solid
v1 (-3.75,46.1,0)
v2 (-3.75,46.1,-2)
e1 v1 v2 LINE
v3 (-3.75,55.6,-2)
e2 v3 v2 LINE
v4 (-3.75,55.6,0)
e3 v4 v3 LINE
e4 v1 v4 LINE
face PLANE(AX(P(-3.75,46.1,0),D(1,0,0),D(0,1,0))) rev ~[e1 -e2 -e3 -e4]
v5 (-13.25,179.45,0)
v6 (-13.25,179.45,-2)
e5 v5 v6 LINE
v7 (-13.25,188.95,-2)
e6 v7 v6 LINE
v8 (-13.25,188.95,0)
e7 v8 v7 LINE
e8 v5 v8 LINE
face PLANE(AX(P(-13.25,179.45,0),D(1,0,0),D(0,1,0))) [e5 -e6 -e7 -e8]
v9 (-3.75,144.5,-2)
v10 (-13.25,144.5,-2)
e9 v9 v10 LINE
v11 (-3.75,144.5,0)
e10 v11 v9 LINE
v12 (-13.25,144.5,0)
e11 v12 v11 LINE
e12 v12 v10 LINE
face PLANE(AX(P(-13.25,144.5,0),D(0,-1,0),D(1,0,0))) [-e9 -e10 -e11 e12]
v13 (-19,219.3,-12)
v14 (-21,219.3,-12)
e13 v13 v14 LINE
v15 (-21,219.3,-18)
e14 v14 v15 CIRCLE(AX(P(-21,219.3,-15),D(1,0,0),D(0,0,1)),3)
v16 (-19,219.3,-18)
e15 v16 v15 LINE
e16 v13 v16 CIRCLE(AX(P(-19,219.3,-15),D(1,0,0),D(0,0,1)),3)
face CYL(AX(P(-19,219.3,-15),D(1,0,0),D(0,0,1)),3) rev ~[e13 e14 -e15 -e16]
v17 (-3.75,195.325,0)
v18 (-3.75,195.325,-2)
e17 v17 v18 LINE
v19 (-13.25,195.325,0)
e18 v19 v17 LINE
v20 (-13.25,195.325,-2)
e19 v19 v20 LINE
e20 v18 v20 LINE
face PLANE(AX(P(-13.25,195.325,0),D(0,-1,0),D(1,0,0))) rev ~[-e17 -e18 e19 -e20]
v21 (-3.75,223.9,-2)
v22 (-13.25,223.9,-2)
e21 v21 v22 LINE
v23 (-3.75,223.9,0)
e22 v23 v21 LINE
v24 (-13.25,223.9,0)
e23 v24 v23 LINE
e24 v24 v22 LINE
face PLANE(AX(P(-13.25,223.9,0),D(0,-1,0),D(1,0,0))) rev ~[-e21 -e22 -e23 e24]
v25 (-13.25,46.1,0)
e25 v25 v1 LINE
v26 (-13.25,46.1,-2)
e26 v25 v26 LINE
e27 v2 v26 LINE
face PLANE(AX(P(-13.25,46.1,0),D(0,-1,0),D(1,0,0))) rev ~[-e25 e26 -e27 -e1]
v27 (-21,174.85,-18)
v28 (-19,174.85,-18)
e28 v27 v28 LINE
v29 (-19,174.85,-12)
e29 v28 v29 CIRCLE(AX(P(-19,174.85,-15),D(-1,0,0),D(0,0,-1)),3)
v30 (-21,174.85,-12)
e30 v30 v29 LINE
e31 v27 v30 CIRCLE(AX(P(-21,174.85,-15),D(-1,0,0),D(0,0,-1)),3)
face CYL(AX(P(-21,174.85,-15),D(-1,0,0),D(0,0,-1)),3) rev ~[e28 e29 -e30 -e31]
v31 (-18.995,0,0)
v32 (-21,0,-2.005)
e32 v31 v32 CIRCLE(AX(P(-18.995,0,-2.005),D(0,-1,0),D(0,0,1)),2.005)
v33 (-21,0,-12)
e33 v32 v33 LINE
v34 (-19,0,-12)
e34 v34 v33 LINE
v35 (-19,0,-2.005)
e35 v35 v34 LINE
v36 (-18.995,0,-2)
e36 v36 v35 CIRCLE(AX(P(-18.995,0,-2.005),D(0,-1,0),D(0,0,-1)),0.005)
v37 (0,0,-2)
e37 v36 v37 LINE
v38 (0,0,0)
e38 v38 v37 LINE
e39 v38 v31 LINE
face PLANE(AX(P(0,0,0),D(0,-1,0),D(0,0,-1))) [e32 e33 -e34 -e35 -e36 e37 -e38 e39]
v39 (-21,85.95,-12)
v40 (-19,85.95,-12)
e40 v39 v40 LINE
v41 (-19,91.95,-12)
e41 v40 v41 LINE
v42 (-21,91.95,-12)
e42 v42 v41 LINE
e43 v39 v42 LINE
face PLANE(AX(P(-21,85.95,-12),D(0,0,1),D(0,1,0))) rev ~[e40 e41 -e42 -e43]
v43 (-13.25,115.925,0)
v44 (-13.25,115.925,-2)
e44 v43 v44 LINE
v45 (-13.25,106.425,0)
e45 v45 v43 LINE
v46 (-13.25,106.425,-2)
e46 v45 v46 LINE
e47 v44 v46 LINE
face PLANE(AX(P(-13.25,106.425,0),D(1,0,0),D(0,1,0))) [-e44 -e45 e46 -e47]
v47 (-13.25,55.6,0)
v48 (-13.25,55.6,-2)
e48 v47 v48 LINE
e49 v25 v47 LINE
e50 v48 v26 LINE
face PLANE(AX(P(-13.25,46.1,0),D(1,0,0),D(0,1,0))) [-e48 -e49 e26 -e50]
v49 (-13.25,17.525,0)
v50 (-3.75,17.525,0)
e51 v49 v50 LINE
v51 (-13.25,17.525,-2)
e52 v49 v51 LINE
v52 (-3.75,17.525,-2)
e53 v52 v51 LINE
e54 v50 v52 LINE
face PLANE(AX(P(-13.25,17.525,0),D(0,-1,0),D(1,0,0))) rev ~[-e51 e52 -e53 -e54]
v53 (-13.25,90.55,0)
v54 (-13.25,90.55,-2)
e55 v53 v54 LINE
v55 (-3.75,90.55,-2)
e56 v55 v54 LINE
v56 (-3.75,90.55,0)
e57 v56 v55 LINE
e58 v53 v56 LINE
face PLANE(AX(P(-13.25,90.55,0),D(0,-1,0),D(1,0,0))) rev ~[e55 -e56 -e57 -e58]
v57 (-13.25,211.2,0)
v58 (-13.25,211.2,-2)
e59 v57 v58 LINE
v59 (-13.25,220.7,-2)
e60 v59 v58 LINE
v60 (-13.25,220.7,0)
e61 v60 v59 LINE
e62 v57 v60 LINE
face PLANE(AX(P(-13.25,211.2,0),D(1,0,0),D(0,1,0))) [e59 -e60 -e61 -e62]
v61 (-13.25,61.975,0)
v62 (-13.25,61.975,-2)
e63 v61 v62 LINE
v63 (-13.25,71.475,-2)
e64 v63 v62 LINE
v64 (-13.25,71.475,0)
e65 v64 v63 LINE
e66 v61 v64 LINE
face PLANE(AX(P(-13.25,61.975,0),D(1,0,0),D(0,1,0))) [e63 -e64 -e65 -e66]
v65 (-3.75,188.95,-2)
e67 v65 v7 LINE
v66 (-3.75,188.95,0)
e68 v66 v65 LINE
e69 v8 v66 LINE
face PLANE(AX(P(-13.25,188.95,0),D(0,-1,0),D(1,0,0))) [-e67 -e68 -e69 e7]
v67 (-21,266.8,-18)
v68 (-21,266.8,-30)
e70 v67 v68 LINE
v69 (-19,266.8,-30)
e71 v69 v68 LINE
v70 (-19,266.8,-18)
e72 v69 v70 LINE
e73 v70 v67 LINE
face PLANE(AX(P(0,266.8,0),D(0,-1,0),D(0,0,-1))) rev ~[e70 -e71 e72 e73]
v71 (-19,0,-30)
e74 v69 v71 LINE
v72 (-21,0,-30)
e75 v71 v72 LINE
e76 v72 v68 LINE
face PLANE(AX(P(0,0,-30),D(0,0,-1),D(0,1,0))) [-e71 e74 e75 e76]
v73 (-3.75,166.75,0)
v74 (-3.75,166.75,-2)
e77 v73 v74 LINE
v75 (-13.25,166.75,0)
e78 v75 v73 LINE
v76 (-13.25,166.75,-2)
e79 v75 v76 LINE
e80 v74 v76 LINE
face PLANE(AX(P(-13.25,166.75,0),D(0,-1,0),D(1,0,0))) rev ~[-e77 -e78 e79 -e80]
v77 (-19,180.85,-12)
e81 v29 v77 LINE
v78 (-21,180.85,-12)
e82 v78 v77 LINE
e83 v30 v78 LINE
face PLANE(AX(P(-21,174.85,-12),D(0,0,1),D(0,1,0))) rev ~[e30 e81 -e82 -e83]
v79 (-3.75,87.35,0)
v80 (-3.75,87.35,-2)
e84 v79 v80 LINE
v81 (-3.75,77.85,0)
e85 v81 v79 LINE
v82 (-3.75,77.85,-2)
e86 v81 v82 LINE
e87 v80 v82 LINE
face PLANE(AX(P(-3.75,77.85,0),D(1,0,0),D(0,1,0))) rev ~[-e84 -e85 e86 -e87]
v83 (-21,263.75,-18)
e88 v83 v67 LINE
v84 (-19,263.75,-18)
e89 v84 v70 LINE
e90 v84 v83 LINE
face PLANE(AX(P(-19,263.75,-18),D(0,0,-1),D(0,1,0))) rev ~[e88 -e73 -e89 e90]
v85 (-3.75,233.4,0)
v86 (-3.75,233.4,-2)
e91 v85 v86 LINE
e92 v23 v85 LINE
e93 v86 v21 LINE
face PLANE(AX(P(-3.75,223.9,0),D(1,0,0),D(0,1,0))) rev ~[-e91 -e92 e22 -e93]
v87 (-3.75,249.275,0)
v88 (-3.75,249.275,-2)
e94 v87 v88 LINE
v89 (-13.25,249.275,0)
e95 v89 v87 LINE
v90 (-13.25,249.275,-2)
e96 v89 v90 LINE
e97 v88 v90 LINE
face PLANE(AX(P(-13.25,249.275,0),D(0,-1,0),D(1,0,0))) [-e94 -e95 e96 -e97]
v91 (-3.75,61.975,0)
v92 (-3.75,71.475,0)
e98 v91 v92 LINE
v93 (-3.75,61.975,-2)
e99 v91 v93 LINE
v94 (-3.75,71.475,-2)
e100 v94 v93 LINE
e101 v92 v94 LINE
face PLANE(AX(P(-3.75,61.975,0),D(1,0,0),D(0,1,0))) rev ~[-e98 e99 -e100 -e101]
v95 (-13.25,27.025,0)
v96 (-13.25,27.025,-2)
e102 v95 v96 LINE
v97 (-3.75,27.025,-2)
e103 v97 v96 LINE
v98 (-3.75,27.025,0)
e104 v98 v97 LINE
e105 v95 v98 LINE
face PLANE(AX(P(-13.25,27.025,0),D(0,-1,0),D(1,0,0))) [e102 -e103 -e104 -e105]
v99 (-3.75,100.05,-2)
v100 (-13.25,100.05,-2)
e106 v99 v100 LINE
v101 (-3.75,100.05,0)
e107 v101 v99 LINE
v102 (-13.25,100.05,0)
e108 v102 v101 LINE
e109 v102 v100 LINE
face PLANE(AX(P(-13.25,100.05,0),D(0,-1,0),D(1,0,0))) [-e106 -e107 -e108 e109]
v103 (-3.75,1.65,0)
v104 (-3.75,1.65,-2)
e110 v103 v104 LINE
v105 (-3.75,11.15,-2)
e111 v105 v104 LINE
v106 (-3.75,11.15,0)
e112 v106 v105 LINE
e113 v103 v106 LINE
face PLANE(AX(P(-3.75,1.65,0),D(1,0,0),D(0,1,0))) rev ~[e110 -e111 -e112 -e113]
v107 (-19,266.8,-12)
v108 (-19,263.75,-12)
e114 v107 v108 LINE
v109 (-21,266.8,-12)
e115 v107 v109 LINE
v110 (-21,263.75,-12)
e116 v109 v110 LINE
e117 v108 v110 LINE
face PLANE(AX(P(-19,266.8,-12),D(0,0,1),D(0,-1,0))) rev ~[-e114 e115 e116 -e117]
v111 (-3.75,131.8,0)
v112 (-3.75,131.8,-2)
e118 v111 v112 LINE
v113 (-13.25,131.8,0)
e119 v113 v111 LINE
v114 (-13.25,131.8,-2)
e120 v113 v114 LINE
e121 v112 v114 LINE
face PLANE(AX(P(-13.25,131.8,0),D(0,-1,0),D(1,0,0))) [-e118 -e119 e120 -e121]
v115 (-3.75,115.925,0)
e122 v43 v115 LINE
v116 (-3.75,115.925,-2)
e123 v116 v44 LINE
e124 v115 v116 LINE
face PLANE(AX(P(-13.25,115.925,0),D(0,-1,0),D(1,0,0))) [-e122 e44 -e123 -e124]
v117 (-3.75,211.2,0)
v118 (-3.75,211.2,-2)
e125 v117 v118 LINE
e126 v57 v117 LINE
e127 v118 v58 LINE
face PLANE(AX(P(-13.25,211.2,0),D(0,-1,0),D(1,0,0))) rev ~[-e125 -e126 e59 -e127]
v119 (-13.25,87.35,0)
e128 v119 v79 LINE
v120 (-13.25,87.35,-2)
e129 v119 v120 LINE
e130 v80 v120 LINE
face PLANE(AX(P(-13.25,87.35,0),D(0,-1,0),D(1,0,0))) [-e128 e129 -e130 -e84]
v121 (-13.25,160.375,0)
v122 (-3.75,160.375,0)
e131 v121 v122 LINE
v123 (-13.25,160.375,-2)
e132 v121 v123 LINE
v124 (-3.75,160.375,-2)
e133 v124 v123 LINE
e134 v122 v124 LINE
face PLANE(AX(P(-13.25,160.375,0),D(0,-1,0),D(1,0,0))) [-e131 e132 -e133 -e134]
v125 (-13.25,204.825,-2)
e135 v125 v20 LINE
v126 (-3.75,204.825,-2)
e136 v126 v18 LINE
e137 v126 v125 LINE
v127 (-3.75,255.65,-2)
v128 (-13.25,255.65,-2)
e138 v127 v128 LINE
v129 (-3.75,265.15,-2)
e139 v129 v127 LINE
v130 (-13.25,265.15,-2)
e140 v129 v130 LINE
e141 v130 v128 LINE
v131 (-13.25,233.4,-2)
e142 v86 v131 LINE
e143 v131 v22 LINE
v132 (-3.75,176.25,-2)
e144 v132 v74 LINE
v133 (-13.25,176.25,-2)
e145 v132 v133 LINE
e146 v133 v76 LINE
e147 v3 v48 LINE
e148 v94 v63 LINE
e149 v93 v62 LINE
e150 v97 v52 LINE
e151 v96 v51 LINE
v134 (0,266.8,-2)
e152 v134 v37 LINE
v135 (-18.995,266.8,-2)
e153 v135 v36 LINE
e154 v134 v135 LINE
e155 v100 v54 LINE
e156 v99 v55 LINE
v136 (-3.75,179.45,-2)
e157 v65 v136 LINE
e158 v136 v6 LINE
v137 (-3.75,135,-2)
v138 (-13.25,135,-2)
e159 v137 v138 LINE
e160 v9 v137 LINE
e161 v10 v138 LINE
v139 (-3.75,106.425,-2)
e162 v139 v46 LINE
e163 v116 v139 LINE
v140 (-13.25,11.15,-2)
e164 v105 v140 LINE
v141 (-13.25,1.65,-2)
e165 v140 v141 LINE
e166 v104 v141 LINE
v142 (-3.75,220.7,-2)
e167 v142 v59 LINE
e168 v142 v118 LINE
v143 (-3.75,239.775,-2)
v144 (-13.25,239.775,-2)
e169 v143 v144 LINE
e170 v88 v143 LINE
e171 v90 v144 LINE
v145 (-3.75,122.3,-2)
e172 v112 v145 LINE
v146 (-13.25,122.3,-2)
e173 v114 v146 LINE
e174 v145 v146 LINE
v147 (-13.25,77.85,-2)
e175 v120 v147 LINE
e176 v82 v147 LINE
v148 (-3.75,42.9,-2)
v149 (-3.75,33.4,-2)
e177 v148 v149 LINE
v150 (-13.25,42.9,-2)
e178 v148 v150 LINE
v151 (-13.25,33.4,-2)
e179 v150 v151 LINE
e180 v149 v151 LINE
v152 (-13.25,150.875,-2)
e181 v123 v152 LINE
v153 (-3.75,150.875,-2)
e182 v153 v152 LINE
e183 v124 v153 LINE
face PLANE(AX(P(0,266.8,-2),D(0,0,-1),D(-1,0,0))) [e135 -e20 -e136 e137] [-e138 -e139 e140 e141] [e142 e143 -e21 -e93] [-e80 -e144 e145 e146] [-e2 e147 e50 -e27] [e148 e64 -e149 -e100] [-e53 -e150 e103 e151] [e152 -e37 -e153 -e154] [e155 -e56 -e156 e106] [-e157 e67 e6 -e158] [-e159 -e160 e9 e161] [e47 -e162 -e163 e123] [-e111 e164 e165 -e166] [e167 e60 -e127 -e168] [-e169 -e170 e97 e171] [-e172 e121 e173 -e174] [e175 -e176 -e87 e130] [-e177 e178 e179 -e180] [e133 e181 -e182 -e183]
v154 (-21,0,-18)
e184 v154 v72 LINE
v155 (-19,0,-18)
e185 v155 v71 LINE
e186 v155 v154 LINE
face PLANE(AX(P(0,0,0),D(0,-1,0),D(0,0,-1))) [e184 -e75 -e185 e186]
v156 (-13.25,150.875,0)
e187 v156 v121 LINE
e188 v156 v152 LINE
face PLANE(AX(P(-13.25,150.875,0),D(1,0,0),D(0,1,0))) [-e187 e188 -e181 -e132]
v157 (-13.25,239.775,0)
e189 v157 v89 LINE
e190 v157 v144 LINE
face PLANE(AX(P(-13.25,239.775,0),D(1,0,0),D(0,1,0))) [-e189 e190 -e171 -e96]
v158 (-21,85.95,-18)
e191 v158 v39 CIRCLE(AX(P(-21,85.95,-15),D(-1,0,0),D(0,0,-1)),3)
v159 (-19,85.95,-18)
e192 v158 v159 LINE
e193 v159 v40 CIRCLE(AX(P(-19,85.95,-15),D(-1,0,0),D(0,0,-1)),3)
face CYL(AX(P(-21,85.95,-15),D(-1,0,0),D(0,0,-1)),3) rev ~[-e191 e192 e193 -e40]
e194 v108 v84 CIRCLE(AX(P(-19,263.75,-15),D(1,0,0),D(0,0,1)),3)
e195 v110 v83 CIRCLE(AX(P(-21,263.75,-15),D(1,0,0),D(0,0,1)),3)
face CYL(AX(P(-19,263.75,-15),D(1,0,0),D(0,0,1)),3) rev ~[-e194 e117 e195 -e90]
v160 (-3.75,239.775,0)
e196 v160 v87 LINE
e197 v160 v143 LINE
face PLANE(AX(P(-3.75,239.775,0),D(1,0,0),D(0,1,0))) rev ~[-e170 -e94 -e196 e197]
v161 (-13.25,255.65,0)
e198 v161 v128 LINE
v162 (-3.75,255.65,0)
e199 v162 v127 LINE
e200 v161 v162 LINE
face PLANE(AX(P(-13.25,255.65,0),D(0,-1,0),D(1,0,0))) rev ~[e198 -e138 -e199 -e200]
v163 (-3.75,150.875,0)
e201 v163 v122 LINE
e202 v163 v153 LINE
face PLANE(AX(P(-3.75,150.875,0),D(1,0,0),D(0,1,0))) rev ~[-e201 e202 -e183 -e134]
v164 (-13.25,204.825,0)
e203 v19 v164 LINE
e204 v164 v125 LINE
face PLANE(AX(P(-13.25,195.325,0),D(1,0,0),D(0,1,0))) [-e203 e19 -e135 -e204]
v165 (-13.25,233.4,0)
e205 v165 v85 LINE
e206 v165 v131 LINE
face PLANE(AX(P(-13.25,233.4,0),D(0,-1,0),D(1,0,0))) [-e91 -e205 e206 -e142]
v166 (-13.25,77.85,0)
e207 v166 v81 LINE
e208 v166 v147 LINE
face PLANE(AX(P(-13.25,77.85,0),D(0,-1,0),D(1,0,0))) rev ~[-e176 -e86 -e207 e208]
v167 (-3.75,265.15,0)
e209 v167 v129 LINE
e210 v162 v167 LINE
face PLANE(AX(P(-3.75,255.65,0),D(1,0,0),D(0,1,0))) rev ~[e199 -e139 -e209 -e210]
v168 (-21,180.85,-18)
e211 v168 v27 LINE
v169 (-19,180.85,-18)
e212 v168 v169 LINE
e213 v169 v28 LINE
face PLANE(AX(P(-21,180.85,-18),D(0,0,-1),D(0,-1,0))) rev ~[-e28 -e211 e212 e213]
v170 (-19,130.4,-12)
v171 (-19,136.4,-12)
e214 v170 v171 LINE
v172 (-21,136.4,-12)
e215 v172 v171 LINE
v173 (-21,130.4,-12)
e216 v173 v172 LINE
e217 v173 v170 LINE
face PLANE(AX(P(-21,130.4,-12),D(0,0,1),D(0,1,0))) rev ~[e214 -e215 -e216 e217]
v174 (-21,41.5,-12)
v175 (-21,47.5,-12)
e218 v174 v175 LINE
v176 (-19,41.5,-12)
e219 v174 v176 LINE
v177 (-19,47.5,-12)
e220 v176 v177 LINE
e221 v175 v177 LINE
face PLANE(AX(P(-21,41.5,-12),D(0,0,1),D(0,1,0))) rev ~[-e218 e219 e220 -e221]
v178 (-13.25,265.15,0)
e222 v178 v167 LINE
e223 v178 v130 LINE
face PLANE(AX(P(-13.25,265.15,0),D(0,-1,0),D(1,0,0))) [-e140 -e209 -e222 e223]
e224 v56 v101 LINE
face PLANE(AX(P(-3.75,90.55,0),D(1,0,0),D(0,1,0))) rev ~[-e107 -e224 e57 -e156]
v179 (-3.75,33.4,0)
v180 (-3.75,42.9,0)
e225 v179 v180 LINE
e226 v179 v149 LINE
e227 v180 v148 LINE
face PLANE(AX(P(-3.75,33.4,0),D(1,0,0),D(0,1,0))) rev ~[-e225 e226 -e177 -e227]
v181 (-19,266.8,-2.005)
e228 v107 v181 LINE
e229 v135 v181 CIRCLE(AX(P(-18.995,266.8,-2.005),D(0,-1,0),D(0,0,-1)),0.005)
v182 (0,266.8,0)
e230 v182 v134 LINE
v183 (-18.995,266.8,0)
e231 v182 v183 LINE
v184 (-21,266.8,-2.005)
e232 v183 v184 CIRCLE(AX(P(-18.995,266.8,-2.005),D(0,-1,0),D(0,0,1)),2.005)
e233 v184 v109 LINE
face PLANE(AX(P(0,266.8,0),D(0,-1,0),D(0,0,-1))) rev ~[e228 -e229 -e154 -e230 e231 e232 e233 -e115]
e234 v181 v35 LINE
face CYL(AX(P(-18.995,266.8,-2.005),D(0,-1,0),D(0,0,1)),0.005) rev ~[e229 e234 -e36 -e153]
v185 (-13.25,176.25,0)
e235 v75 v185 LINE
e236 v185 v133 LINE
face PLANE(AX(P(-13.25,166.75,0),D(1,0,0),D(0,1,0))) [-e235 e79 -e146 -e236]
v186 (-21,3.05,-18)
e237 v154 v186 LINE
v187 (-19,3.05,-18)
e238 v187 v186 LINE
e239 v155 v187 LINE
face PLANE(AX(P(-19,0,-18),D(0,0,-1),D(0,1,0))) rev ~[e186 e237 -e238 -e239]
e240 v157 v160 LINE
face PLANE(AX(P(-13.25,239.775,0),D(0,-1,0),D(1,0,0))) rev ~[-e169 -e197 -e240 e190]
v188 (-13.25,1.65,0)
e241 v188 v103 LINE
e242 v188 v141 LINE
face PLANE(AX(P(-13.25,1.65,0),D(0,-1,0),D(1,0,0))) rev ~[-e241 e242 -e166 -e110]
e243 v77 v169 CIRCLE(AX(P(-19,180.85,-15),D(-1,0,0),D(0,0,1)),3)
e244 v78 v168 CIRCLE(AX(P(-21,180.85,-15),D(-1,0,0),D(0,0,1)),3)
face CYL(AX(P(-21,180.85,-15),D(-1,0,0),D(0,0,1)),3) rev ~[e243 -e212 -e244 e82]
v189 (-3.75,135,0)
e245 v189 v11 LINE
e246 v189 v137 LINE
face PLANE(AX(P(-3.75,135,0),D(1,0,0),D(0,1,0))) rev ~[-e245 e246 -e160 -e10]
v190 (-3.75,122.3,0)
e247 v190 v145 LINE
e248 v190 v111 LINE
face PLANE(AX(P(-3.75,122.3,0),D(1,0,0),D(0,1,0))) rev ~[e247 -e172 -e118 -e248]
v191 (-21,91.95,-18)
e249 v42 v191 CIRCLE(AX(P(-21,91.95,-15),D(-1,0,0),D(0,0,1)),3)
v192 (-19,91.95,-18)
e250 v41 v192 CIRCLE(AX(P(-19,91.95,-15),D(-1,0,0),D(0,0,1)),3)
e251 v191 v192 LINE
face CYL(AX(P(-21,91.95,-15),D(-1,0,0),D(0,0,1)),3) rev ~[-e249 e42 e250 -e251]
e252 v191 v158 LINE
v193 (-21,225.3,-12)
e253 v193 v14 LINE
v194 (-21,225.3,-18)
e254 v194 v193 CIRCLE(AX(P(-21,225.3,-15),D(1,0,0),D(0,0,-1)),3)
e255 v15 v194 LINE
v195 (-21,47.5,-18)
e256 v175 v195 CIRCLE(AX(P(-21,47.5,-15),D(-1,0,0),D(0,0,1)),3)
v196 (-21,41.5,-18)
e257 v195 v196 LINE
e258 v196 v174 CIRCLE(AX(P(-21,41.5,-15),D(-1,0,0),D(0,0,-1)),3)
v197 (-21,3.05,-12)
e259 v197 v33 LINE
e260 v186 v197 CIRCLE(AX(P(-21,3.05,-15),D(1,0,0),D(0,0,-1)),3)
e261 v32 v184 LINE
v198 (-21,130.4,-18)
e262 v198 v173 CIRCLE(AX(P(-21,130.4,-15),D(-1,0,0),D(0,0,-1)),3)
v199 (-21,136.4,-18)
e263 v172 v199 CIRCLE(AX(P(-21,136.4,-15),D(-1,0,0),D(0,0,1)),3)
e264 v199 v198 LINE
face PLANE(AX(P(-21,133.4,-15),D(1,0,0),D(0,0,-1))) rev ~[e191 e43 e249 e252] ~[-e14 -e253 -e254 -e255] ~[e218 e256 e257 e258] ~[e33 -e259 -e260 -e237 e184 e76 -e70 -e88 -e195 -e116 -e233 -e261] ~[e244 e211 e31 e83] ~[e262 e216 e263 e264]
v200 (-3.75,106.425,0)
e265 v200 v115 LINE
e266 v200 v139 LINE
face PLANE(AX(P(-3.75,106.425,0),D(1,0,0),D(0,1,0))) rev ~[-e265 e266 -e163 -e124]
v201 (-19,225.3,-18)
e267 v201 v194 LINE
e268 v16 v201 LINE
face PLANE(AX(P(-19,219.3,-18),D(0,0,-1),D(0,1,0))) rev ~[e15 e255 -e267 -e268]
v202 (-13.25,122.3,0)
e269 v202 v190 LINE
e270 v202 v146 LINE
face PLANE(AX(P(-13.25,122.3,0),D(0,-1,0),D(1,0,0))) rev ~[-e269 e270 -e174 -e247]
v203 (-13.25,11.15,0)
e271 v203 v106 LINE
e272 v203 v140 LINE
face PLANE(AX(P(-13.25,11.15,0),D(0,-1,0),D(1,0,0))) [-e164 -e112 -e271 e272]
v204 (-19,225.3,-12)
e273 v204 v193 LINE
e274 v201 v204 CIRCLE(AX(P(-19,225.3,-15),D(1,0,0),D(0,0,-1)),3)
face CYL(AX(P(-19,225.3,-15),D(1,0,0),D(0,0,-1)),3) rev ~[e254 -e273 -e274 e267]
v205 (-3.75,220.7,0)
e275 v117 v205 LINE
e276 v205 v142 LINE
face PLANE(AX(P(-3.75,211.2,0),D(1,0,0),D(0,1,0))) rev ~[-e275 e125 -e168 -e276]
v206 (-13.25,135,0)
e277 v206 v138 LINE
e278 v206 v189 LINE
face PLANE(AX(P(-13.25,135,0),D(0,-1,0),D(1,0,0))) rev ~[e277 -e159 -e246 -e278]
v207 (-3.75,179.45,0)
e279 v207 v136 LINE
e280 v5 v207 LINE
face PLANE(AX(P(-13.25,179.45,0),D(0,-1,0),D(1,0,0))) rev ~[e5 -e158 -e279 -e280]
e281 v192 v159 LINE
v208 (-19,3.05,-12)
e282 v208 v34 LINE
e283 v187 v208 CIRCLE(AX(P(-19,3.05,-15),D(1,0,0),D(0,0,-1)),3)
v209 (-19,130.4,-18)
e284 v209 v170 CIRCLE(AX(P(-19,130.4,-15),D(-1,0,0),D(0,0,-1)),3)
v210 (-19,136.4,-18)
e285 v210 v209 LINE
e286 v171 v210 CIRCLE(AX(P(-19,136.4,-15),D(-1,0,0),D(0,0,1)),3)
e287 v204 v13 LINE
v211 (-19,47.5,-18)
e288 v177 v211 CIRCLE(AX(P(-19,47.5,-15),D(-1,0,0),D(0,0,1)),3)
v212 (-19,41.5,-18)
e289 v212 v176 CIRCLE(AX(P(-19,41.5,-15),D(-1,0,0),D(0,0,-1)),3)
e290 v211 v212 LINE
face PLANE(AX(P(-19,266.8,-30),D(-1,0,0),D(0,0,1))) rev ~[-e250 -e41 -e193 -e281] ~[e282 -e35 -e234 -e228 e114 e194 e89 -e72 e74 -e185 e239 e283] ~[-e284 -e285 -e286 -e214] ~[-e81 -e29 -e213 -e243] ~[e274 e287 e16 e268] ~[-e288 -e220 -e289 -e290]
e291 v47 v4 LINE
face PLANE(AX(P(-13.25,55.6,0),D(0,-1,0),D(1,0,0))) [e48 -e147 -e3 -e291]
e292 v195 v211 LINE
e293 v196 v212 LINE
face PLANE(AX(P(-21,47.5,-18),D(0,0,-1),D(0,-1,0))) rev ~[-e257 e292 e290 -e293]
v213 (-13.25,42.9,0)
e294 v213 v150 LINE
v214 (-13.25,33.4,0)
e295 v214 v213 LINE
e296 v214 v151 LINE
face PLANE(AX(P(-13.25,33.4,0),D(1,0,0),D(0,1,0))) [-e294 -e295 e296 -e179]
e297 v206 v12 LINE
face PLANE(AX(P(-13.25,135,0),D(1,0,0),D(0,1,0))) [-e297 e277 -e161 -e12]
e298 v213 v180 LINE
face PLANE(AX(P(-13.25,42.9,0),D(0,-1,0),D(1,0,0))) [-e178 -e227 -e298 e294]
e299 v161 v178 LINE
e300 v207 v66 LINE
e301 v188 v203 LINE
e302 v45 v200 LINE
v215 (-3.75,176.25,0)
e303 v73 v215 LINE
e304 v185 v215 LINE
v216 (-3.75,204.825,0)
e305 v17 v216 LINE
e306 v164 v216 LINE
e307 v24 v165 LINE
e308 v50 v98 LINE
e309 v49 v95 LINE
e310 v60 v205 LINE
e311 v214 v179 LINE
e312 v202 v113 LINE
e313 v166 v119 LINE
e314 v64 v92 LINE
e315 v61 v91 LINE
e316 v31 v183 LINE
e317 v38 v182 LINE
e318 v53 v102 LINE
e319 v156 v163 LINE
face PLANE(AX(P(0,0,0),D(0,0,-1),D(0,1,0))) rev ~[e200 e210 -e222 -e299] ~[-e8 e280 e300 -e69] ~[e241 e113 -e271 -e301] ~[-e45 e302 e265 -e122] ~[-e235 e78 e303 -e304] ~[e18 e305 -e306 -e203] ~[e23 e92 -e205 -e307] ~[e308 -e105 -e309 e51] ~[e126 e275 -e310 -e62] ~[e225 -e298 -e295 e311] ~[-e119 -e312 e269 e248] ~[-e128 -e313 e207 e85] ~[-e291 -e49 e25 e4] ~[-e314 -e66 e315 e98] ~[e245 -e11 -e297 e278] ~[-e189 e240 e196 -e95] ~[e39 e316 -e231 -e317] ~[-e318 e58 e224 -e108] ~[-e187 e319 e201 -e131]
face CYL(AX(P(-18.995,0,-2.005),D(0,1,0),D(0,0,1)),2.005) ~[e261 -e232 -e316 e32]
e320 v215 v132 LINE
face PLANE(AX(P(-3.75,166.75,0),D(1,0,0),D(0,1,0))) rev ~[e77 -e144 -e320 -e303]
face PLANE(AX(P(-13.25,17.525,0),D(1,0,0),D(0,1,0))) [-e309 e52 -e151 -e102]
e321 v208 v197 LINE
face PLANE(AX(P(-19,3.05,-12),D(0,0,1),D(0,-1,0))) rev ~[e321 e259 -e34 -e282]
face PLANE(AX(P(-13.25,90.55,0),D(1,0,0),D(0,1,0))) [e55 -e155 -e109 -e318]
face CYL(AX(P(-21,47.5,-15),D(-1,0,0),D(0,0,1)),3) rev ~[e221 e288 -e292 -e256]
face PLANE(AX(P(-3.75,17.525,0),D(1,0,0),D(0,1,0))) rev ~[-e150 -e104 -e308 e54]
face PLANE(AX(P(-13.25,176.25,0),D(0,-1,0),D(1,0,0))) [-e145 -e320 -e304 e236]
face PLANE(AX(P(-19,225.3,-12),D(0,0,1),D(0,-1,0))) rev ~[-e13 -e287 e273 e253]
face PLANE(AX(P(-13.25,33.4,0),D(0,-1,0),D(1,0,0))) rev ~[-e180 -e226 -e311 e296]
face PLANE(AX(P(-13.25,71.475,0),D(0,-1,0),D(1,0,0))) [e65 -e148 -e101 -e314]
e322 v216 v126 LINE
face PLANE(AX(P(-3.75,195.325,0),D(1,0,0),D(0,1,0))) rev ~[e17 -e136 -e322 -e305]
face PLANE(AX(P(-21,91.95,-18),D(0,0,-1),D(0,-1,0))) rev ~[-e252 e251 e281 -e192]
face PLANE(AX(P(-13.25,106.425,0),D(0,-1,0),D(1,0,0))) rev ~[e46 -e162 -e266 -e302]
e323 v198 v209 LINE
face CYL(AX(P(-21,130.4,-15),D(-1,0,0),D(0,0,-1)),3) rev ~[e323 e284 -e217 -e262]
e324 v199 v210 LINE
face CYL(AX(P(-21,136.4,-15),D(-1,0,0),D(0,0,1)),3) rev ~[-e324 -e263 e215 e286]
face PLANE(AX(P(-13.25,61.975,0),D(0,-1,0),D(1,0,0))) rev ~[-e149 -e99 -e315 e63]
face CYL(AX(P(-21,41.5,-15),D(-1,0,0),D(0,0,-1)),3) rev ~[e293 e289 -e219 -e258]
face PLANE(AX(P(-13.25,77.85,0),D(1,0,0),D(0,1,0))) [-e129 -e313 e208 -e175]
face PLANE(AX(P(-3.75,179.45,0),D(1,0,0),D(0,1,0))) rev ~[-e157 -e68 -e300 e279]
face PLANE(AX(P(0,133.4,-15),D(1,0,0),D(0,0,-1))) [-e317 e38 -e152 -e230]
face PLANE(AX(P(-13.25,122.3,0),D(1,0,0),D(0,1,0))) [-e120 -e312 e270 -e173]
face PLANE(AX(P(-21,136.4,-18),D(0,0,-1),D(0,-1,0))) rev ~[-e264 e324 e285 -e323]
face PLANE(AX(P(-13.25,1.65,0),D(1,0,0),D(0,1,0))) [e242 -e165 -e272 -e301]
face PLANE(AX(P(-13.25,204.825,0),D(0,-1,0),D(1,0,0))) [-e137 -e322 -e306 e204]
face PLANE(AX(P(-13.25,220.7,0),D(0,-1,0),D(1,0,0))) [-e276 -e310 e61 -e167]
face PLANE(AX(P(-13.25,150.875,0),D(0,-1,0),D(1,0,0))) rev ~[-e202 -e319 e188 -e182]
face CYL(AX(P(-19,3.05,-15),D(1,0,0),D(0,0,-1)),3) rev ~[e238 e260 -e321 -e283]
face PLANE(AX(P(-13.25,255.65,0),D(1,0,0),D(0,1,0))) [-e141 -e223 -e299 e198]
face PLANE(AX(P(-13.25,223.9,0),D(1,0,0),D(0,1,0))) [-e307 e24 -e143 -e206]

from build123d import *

# Parameters (mm, degrees)
SKETCH1_W           = 30
SKETCH1_H           = 266.8
BOSS_EXTRUDE1_DEPTH = 21
SKETCH2_W           = 19
SKETCH2_H           = 28
CUT_EXTRUDE1_DEPTH  = 270.301392495
CUT_EXTRUDE2_DEPTH  = 270.152819045
CUT_EXTRUDE3_DEPTH  = 270.152819045
CUT_EXTRUDE4_DEPTH  = 270.301392495
CUT_EXTRUDE5_DEPTH  = 270.301392495
CUT_EXTRUDE6_DEPTH  = 270.301392495
CUT_EXTRUDE7_DEPTH  = 270.301392495
SKETCH9_W           = 9.5
SKETCH9_H           = 9.5
CUT_EXTRUDE8_DEPTH  = 270.301392495
SKETCH10_W          = 9.5
SKETCH10_H          = 9.5
CUT_EXTRUDE9_DEPTH  = 270.301392495
SKETCH11_W          = 9.5
SKETCH11_H          = 9.5
CUT_EXTRUDE10_DEPTH = 270.301392495
SKETCH12_W          = 9.5
SKETCH12_H          = 9.5
CUT_EXTRUDE11_DEPTH = 270.301392495
SKETCH13_W          = 9.5
SKETCH13_H          = 9.5
CUT_EXTRUDE12_DEPTH = 270.301392495
SKETCH14_W          = 9.5
SKETCH14_H          = 9.5
CUT_EXTRUDE13_DEPTH = 270.301392495
SKETCH15_W          = 9.5
SKETCH15_H          = 9.5
CUT_EXTRUDE14_DEPTH = 270.301392495
SKETCH16_W          = 9.5
SKETCH16_H          = 9.5
CUT_EXTRUDE15_DEPTH = 270.301392495
SKETCH17_W          = 9.5
SKETCH17_H          = 9.5
CUT_EXTRUDE16_DEPTH = 270.301392495
SKETCH18_W          = 9.5
SKETCH18_H          = 9.5
CUT_EXTRUDE17_DEPTH = 270.301392495
SKETCH19_W          = 9.5
SKETCH19_H          = 9.5
CUT_EXTRUDE18_DEPTH = 270.301392495
SKETCH20_W          = 9.5
SKETCH20_H          = 9.5
CUT_EXTRUDE19_DEPTH = 270.301392495
SKETCH21_W          = 9.5
SKETCH21_H          = 9.5
CUT_EXTRUDE20_DEPTH = 270.301392495
SKETCH22_W          = 9.5
SKETCH22_H          = 9.5
CUT_EXTRUDE21_DEPTH = 270.301392495
SKETCH23_W          = 9.5
SKETCH23_H          = 9.5
CUT_EXTRUDE22_DEPTH = 270.301392495
SKETCH24_W          = 9.5
SKETCH24_H          = 9.5
CUT_EXTRUDE23_DEPTH = 270.301392495
SKETCH25_W          = 9.5
SKETCH25_H          = 9.5
CUT_EXTRUDE24_DEPTH = 270.301392495
SKETCH26_W          = 9.5
SKETCH26_H          = 9.5
CUT_EXTRUDE25_DEPTH = 270.301392495
CUT_EXTRUDE26_DEPTH = 270.152819045
FILLET1_R           = 0.005
FILLET2_R           = 2.005


with BuildPart() as part:
    # Sketch1 → Boss-Extrude1 (new body)
    with BuildSketch(Plane(origin=(0, 0, 0), x_dir=(0, 0, -1), z_dir=(1, 0, 0))):
        with Locations((15, 133.4)):
            Rectangle(SKETCH1_W, SKETCH1_H)
    extrude(amount=-BOSS_EXTRUDE1_DEPTH)

    # Sketch2 → Cut-Extrude1 (cut, through all)
    with BuildSketch(Plane(origin=(0, 266.8, 0), x_dir=(-1, 0, 0), z_dir=(0, 1, 0))):
        with Locations((9.5, -16)):
            Rectangle(SKETCH2_W, SKETCH2_H)
    extrude(amount=-CUT_EXTRUDE1_DEPTH, mode=Mode.SUBTRACT)

    # Sketch3 → Cut-Extrude2 (cut, through all)
    with BuildSketch(Plane(origin=(-19, 0, 0), x_dir=(0, 0, -1), z_dir=(1, 0, 0))):
        with BuildLine():
            Line((12, 266.8), (12, 263.75))
            ThreePointArc((12, 263.75), (15, 260.75), (18, 263.75))
            Line((18, 263.75), (18, 266.8))
            Line((18, 266.8), (12, 266.8))
        make_face()
    extrude(amount=-CUT_EXTRUDE2_DEPTH, mode=Mode.SUBTRACT)

    # Sketch4 → Cut-Extrude3 (cut, through all)
    with BuildSketch(Plane(origin=(-19, 0, 0), x_dir=(0, 0, -1), z_dir=(1, 0, 0))):
        with BuildLine():
            Line((18, 0), (18, 3.05))
            ThreePointArc((18, 3.05), (15, 6.05), (12, 3.05))
            Line((12, 3.05), (12, 0))
            Line((12, 0), (18, 0))
        make_face()
    extrude(amount=-CUT_EXTRUDE3_DEPTH, mode=Mode.SUBTRACT)

    # Sketch5 → Cut-Extrude4 (cut, through all)
    with BuildSketch(Plane.ZY.offset(21)):
        with BuildLine():
            Line((-12, 41.5), (-12, 47.5))
            ThreePointArc((-12, 47.5), (-15, 50.5), (-18, 47.5))
            Line((-18, 47.5), (-18, 41.5))
            ThreePointArc((-18, 41.5), (-15, 38.5), (-12, 41.5))
        make_face()
    extrude(amount=-CUT_EXTRUDE4_DEPTH, mode=Mode.SUBTRACT)

    # Sketch6 → Cut-Extrude5 (cut, through all)
    with BuildSketch(Plane.ZY.offset(21)):
        with BuildLine():
            Line((-12, 85.95), (-12, 91.95))
            ThreePointArc((-12, 91.95), (-15, 94.95), (-18, 91.95))
            Line((-18, 91.95), (-18, 85.95))
            ThreePointArc((-18, 85.95), (-15, 82.95), (-12, 85.95))
        make_face()
    extrude(amount=-CUT_EXTRUDE5_DEPTH, mode=Mode.SUBTRACT)

    # Sketch7 → Cut-Extrude6 (cut, through all)
    with BuildSketch(Plane.ZY.offset(21)):
        with BuildLine():
            Line((-12, 130.4), (-12, 136.4))
            ThreePointArc((-12, 136.4), (-15, 139.4), (-18, 136.4))
            Line((-18, 136.4), (-18, 130.4))
            ThreePointArc((-18, 130.4), (-15, 127.4), (-12, 130.4))
        make_face()
    extrude(amount=-CUT_EXTRUDE6_DEPTH, mode=Mode.SUBTRACT)

    # Sketch8 → Cut-Extrude7 (cut, through all)
    with BuildSketch(Plane.ZY.offset(21)):
        with BuildLine():
            Line((-12, 174.85), (-12, 180.85))
            ThreePointArc((-12, 180.85), (-15, 183.85), (-18, 180.85))
            Line((-18, 180.85), (-18, 174.85))
            ThreePointArc((-18, 174.85), (-15, 171.85), (-12, 174.85))
        make_face()
    extrude(amount=-CUT_EXTRUDE7_DEPTH, mode=Mode.SUBTRACT)

    # Sketch9 → Cut-Extrude8 (cut, through all)
    with BuildSketch(Plane.XY):
        with Locations((-8.5, 244.525)):
            Rectangle(SKETCH9_W, SKETCH9_H)
    extrude(amount=-CUT_EXTRUDE8_DEPTH, mode=Mode.SUBTRACT)

    # Sketch10 → Cut-Extrude9 (cut, through all)
    with BuildSketch(Plane.XY):
        with Locations((-8.5, 228.65)):
            Rectangle(SKETCH10_W, SKETCH10_H)
    extrude(amount=-CUT_EXTRUDE9_DEPTH, mode=Mode.SUBTRACT)

    # Sketch11 → Cut-Extrude10 (cut, through all)
    with BuildSketch(Plane.XY):
        with Locations((-8.5, 215.95)):
            Rectangle(SKETCH11_W, SKETCH11_H)
    extrude(amount=-CUT_EXTRUDE10_DEPTH, mode=Mode.SUBTRACT)

    # Sketch12 → Cut-Extrude11 (cut, through all)
    with BuildSketch(Plane.XY):
        with Locations((-8.5, 200.075)):
            Rectangle(SKETCH12_W, SKETCH12_H)
    extrude(amount=-CUT_EXTRUDE11_DEPTH, mode=Mode.SUBTRACT)

    # Sketch13 → Cut-Extrude12 (cut, through all)
    with BuildSketch(Plane.XY):
        with Locations((-8.5, 184.2)):
            Rectangle(SKETCH13_W, SKETCH13_H)
    extrude(amount=-CUT_EXTRUDE12_DEPTH, mode=Mode.SUBTRACT)

    # Sketch14 → Cut-Extrude13 (cut, through all)
    with BuildSketch(Plane.XY):
        with Locations((-8.5, 171.5)):
            Rectangle(SKETCH14_W, SKETCH14_H)
    extrude(amount=-CUT_EXTRUDE13_DEPTH, mode=Mode.SUBTRACT)

    # Sketch15 → Cut-Extrude14 (cut, through all)
    with BuildSketch(Plane.XY):
        with Locations((-8.5, 155.625)):
            Rectangle(SKETCH15_W, SKETCH15_H)
    extrude(amount=-CUT_EXTRUDE14_DEPTH, mode=Mode.SUBTRACT)

    # Sketch16 → Cut-Extrude15 (cut, through all)
    with BuildSketch(Plane.XY):
        with Locations((-8.5, 139.75)):
            Rectangle(SKETCH16_W, SKETCH16_H)
    extrude(amount=-CUT_EXTRUDE15_DEPTH, mode=Mode.SUBTRACT)

    # Sketch17 → Cut-Extrude16 (cut, through all)
    with BuildSketch(Plane.XY):
        with Locations((-8.5, 127.05)):
            Rectangle(SKETCH17_W, SKETCH17_H)
    extrude(amount=-CUT_EXTRUDE16_DEPTH, mode=Mode.SUBTRACT)

    # Sketch18 → Cut-Extrude17 (cut, through all)
    with BuildSketch(Plane.XY):
        with Locations((-8.5, 111.175)):
            Rectangle(SKETCH18_W, SKETCH18_H)
    extrude(amount=-CUT_EXTRUDE17_DEPTH, mode=Mode.SUBTRACT)

    # Sketch19 → Cut-Extrude18 (cut, through all)
    with BuildSketch(Plane.XY):
        with Locations((-8.5, 95.3)):
            Rectangle(SKETCH19_W, SKETCH19_H)
    extrude(amount=-CUT_EXTRUDE18_DEPTH, mode=Mode.SUBTRACT)

    # Sketch20 → Cut-Extrude19 (cut, through all)
    with BuildSketch(Plane.XY):
        with Locations((-8.5, 82.6)):
            Rectangle(SKETCH20_W, SKETCH20_H)
    extrude(amount=-CUT_EXTRUDE19_DEPTH, mode=Mode.SUBTRACT)

    # Sketch21 → Cut-Extrude20 (cut, through all)
    with BuildSketch(Plane.XY):
        with Locations((-8.5, 66.725)):
            Rectangle(SKETCH21_W, SKETCH21_H)
    extrude(amount=-CUT_EXTRUDE20_DEPTH, mode=Mode.SUBTRACT)

    # Sketch22 → Cut-Extrude21 (cut, through all)
    with BuildSketch(Plane.XY):
        with Locations((-8.5, 50.85)):
            Rectangle(SKETCH22_W, SKETCH22_H)
    extrude(amount=-CUT_EXTRUDE21_DEPTH, mode=Mode.SUBTRACT)

    # Sketch23 → Cut-Extrude22 (cut, through all)
    with BuildSketch(Plane.XY):
        with Locations((-8.5, 38.15)):
            Rectangle(SKETCH23_W, SKETCH23_H)
    extrude(amount=-CUT_EXTRUDE22_DEPTH, mode=Mode.SUBTRACT)

    # Sketch24 → Cut-Extrude23 (cut, through all)
    with BuildSketch(Plane.XY):
        with Locations((-8.5, 22.275)):
            Rectangle(SKETCH24_W, SKETCH24_H)
    extrude(amount=-CUT_EXTRUDE23_DEPTH, mode=Mode.SUBTRACT)

    # Sketch25 → Cut-Extrude24 (cut, through all)
    with BuildSketch(Plane.XY):
        with Locations((-8.5, 6.4)):
            Rectangle(SKETCH25_W, SKETCH25_H)
    extrude(amount=-CUT_EXTRUDE24_DEPTH, mode=Mode.SUBTRACT)

    # Sketch26 → Cut-Extrude25 (cut, through all)
    with BuildSketch(Plane.XY):
        with Locations((-8.5, 260.4)):
            Rectangle(SKETCH26_W, SKETCH26_H)
    extrude(amount=-CUT_EXTRUDE25_DEPTH, mode=Mode.SUBTRACT)

    # Sketch27 → Cut-Extrude26 (cut, through all)
    with BuildSketch(Plane(origin=(-19, 0, 0), x_dir=(0, 0, -1), z_dir=(1, 0, 0))):
        with BuildLine():
            Line((12, 225.3), (12, 219.3))
            ThreePointArc((12, 219.3), (15, 216.3), (18, 219.3))
            Line((18, 219.3), (18, 225.3))
            ThreePointArc((18, 225.3), (15, 228.3), (12, 225.3))
        make_face()
    extrude(amount=-CUT_EXTRUDE26_DEPTH, mode=Mode.SUBTRACT)

    # Fillet1
    fillet1_edges = [part.edges().sort_by_distance(p)[0] for p in [
        (-19, 133.4, -2),
    ]]
    fillet(fillet1_edges, radius=FILLET1_R)

    # Fillet2
    fillet2_edges = [part.edges().sort_by_distance(p)[0] for p in [
        (-21, 133.4, 0),
    ]]
    fillet(fillet2_edges, radius=FILLET2_R)


solid = part.part
